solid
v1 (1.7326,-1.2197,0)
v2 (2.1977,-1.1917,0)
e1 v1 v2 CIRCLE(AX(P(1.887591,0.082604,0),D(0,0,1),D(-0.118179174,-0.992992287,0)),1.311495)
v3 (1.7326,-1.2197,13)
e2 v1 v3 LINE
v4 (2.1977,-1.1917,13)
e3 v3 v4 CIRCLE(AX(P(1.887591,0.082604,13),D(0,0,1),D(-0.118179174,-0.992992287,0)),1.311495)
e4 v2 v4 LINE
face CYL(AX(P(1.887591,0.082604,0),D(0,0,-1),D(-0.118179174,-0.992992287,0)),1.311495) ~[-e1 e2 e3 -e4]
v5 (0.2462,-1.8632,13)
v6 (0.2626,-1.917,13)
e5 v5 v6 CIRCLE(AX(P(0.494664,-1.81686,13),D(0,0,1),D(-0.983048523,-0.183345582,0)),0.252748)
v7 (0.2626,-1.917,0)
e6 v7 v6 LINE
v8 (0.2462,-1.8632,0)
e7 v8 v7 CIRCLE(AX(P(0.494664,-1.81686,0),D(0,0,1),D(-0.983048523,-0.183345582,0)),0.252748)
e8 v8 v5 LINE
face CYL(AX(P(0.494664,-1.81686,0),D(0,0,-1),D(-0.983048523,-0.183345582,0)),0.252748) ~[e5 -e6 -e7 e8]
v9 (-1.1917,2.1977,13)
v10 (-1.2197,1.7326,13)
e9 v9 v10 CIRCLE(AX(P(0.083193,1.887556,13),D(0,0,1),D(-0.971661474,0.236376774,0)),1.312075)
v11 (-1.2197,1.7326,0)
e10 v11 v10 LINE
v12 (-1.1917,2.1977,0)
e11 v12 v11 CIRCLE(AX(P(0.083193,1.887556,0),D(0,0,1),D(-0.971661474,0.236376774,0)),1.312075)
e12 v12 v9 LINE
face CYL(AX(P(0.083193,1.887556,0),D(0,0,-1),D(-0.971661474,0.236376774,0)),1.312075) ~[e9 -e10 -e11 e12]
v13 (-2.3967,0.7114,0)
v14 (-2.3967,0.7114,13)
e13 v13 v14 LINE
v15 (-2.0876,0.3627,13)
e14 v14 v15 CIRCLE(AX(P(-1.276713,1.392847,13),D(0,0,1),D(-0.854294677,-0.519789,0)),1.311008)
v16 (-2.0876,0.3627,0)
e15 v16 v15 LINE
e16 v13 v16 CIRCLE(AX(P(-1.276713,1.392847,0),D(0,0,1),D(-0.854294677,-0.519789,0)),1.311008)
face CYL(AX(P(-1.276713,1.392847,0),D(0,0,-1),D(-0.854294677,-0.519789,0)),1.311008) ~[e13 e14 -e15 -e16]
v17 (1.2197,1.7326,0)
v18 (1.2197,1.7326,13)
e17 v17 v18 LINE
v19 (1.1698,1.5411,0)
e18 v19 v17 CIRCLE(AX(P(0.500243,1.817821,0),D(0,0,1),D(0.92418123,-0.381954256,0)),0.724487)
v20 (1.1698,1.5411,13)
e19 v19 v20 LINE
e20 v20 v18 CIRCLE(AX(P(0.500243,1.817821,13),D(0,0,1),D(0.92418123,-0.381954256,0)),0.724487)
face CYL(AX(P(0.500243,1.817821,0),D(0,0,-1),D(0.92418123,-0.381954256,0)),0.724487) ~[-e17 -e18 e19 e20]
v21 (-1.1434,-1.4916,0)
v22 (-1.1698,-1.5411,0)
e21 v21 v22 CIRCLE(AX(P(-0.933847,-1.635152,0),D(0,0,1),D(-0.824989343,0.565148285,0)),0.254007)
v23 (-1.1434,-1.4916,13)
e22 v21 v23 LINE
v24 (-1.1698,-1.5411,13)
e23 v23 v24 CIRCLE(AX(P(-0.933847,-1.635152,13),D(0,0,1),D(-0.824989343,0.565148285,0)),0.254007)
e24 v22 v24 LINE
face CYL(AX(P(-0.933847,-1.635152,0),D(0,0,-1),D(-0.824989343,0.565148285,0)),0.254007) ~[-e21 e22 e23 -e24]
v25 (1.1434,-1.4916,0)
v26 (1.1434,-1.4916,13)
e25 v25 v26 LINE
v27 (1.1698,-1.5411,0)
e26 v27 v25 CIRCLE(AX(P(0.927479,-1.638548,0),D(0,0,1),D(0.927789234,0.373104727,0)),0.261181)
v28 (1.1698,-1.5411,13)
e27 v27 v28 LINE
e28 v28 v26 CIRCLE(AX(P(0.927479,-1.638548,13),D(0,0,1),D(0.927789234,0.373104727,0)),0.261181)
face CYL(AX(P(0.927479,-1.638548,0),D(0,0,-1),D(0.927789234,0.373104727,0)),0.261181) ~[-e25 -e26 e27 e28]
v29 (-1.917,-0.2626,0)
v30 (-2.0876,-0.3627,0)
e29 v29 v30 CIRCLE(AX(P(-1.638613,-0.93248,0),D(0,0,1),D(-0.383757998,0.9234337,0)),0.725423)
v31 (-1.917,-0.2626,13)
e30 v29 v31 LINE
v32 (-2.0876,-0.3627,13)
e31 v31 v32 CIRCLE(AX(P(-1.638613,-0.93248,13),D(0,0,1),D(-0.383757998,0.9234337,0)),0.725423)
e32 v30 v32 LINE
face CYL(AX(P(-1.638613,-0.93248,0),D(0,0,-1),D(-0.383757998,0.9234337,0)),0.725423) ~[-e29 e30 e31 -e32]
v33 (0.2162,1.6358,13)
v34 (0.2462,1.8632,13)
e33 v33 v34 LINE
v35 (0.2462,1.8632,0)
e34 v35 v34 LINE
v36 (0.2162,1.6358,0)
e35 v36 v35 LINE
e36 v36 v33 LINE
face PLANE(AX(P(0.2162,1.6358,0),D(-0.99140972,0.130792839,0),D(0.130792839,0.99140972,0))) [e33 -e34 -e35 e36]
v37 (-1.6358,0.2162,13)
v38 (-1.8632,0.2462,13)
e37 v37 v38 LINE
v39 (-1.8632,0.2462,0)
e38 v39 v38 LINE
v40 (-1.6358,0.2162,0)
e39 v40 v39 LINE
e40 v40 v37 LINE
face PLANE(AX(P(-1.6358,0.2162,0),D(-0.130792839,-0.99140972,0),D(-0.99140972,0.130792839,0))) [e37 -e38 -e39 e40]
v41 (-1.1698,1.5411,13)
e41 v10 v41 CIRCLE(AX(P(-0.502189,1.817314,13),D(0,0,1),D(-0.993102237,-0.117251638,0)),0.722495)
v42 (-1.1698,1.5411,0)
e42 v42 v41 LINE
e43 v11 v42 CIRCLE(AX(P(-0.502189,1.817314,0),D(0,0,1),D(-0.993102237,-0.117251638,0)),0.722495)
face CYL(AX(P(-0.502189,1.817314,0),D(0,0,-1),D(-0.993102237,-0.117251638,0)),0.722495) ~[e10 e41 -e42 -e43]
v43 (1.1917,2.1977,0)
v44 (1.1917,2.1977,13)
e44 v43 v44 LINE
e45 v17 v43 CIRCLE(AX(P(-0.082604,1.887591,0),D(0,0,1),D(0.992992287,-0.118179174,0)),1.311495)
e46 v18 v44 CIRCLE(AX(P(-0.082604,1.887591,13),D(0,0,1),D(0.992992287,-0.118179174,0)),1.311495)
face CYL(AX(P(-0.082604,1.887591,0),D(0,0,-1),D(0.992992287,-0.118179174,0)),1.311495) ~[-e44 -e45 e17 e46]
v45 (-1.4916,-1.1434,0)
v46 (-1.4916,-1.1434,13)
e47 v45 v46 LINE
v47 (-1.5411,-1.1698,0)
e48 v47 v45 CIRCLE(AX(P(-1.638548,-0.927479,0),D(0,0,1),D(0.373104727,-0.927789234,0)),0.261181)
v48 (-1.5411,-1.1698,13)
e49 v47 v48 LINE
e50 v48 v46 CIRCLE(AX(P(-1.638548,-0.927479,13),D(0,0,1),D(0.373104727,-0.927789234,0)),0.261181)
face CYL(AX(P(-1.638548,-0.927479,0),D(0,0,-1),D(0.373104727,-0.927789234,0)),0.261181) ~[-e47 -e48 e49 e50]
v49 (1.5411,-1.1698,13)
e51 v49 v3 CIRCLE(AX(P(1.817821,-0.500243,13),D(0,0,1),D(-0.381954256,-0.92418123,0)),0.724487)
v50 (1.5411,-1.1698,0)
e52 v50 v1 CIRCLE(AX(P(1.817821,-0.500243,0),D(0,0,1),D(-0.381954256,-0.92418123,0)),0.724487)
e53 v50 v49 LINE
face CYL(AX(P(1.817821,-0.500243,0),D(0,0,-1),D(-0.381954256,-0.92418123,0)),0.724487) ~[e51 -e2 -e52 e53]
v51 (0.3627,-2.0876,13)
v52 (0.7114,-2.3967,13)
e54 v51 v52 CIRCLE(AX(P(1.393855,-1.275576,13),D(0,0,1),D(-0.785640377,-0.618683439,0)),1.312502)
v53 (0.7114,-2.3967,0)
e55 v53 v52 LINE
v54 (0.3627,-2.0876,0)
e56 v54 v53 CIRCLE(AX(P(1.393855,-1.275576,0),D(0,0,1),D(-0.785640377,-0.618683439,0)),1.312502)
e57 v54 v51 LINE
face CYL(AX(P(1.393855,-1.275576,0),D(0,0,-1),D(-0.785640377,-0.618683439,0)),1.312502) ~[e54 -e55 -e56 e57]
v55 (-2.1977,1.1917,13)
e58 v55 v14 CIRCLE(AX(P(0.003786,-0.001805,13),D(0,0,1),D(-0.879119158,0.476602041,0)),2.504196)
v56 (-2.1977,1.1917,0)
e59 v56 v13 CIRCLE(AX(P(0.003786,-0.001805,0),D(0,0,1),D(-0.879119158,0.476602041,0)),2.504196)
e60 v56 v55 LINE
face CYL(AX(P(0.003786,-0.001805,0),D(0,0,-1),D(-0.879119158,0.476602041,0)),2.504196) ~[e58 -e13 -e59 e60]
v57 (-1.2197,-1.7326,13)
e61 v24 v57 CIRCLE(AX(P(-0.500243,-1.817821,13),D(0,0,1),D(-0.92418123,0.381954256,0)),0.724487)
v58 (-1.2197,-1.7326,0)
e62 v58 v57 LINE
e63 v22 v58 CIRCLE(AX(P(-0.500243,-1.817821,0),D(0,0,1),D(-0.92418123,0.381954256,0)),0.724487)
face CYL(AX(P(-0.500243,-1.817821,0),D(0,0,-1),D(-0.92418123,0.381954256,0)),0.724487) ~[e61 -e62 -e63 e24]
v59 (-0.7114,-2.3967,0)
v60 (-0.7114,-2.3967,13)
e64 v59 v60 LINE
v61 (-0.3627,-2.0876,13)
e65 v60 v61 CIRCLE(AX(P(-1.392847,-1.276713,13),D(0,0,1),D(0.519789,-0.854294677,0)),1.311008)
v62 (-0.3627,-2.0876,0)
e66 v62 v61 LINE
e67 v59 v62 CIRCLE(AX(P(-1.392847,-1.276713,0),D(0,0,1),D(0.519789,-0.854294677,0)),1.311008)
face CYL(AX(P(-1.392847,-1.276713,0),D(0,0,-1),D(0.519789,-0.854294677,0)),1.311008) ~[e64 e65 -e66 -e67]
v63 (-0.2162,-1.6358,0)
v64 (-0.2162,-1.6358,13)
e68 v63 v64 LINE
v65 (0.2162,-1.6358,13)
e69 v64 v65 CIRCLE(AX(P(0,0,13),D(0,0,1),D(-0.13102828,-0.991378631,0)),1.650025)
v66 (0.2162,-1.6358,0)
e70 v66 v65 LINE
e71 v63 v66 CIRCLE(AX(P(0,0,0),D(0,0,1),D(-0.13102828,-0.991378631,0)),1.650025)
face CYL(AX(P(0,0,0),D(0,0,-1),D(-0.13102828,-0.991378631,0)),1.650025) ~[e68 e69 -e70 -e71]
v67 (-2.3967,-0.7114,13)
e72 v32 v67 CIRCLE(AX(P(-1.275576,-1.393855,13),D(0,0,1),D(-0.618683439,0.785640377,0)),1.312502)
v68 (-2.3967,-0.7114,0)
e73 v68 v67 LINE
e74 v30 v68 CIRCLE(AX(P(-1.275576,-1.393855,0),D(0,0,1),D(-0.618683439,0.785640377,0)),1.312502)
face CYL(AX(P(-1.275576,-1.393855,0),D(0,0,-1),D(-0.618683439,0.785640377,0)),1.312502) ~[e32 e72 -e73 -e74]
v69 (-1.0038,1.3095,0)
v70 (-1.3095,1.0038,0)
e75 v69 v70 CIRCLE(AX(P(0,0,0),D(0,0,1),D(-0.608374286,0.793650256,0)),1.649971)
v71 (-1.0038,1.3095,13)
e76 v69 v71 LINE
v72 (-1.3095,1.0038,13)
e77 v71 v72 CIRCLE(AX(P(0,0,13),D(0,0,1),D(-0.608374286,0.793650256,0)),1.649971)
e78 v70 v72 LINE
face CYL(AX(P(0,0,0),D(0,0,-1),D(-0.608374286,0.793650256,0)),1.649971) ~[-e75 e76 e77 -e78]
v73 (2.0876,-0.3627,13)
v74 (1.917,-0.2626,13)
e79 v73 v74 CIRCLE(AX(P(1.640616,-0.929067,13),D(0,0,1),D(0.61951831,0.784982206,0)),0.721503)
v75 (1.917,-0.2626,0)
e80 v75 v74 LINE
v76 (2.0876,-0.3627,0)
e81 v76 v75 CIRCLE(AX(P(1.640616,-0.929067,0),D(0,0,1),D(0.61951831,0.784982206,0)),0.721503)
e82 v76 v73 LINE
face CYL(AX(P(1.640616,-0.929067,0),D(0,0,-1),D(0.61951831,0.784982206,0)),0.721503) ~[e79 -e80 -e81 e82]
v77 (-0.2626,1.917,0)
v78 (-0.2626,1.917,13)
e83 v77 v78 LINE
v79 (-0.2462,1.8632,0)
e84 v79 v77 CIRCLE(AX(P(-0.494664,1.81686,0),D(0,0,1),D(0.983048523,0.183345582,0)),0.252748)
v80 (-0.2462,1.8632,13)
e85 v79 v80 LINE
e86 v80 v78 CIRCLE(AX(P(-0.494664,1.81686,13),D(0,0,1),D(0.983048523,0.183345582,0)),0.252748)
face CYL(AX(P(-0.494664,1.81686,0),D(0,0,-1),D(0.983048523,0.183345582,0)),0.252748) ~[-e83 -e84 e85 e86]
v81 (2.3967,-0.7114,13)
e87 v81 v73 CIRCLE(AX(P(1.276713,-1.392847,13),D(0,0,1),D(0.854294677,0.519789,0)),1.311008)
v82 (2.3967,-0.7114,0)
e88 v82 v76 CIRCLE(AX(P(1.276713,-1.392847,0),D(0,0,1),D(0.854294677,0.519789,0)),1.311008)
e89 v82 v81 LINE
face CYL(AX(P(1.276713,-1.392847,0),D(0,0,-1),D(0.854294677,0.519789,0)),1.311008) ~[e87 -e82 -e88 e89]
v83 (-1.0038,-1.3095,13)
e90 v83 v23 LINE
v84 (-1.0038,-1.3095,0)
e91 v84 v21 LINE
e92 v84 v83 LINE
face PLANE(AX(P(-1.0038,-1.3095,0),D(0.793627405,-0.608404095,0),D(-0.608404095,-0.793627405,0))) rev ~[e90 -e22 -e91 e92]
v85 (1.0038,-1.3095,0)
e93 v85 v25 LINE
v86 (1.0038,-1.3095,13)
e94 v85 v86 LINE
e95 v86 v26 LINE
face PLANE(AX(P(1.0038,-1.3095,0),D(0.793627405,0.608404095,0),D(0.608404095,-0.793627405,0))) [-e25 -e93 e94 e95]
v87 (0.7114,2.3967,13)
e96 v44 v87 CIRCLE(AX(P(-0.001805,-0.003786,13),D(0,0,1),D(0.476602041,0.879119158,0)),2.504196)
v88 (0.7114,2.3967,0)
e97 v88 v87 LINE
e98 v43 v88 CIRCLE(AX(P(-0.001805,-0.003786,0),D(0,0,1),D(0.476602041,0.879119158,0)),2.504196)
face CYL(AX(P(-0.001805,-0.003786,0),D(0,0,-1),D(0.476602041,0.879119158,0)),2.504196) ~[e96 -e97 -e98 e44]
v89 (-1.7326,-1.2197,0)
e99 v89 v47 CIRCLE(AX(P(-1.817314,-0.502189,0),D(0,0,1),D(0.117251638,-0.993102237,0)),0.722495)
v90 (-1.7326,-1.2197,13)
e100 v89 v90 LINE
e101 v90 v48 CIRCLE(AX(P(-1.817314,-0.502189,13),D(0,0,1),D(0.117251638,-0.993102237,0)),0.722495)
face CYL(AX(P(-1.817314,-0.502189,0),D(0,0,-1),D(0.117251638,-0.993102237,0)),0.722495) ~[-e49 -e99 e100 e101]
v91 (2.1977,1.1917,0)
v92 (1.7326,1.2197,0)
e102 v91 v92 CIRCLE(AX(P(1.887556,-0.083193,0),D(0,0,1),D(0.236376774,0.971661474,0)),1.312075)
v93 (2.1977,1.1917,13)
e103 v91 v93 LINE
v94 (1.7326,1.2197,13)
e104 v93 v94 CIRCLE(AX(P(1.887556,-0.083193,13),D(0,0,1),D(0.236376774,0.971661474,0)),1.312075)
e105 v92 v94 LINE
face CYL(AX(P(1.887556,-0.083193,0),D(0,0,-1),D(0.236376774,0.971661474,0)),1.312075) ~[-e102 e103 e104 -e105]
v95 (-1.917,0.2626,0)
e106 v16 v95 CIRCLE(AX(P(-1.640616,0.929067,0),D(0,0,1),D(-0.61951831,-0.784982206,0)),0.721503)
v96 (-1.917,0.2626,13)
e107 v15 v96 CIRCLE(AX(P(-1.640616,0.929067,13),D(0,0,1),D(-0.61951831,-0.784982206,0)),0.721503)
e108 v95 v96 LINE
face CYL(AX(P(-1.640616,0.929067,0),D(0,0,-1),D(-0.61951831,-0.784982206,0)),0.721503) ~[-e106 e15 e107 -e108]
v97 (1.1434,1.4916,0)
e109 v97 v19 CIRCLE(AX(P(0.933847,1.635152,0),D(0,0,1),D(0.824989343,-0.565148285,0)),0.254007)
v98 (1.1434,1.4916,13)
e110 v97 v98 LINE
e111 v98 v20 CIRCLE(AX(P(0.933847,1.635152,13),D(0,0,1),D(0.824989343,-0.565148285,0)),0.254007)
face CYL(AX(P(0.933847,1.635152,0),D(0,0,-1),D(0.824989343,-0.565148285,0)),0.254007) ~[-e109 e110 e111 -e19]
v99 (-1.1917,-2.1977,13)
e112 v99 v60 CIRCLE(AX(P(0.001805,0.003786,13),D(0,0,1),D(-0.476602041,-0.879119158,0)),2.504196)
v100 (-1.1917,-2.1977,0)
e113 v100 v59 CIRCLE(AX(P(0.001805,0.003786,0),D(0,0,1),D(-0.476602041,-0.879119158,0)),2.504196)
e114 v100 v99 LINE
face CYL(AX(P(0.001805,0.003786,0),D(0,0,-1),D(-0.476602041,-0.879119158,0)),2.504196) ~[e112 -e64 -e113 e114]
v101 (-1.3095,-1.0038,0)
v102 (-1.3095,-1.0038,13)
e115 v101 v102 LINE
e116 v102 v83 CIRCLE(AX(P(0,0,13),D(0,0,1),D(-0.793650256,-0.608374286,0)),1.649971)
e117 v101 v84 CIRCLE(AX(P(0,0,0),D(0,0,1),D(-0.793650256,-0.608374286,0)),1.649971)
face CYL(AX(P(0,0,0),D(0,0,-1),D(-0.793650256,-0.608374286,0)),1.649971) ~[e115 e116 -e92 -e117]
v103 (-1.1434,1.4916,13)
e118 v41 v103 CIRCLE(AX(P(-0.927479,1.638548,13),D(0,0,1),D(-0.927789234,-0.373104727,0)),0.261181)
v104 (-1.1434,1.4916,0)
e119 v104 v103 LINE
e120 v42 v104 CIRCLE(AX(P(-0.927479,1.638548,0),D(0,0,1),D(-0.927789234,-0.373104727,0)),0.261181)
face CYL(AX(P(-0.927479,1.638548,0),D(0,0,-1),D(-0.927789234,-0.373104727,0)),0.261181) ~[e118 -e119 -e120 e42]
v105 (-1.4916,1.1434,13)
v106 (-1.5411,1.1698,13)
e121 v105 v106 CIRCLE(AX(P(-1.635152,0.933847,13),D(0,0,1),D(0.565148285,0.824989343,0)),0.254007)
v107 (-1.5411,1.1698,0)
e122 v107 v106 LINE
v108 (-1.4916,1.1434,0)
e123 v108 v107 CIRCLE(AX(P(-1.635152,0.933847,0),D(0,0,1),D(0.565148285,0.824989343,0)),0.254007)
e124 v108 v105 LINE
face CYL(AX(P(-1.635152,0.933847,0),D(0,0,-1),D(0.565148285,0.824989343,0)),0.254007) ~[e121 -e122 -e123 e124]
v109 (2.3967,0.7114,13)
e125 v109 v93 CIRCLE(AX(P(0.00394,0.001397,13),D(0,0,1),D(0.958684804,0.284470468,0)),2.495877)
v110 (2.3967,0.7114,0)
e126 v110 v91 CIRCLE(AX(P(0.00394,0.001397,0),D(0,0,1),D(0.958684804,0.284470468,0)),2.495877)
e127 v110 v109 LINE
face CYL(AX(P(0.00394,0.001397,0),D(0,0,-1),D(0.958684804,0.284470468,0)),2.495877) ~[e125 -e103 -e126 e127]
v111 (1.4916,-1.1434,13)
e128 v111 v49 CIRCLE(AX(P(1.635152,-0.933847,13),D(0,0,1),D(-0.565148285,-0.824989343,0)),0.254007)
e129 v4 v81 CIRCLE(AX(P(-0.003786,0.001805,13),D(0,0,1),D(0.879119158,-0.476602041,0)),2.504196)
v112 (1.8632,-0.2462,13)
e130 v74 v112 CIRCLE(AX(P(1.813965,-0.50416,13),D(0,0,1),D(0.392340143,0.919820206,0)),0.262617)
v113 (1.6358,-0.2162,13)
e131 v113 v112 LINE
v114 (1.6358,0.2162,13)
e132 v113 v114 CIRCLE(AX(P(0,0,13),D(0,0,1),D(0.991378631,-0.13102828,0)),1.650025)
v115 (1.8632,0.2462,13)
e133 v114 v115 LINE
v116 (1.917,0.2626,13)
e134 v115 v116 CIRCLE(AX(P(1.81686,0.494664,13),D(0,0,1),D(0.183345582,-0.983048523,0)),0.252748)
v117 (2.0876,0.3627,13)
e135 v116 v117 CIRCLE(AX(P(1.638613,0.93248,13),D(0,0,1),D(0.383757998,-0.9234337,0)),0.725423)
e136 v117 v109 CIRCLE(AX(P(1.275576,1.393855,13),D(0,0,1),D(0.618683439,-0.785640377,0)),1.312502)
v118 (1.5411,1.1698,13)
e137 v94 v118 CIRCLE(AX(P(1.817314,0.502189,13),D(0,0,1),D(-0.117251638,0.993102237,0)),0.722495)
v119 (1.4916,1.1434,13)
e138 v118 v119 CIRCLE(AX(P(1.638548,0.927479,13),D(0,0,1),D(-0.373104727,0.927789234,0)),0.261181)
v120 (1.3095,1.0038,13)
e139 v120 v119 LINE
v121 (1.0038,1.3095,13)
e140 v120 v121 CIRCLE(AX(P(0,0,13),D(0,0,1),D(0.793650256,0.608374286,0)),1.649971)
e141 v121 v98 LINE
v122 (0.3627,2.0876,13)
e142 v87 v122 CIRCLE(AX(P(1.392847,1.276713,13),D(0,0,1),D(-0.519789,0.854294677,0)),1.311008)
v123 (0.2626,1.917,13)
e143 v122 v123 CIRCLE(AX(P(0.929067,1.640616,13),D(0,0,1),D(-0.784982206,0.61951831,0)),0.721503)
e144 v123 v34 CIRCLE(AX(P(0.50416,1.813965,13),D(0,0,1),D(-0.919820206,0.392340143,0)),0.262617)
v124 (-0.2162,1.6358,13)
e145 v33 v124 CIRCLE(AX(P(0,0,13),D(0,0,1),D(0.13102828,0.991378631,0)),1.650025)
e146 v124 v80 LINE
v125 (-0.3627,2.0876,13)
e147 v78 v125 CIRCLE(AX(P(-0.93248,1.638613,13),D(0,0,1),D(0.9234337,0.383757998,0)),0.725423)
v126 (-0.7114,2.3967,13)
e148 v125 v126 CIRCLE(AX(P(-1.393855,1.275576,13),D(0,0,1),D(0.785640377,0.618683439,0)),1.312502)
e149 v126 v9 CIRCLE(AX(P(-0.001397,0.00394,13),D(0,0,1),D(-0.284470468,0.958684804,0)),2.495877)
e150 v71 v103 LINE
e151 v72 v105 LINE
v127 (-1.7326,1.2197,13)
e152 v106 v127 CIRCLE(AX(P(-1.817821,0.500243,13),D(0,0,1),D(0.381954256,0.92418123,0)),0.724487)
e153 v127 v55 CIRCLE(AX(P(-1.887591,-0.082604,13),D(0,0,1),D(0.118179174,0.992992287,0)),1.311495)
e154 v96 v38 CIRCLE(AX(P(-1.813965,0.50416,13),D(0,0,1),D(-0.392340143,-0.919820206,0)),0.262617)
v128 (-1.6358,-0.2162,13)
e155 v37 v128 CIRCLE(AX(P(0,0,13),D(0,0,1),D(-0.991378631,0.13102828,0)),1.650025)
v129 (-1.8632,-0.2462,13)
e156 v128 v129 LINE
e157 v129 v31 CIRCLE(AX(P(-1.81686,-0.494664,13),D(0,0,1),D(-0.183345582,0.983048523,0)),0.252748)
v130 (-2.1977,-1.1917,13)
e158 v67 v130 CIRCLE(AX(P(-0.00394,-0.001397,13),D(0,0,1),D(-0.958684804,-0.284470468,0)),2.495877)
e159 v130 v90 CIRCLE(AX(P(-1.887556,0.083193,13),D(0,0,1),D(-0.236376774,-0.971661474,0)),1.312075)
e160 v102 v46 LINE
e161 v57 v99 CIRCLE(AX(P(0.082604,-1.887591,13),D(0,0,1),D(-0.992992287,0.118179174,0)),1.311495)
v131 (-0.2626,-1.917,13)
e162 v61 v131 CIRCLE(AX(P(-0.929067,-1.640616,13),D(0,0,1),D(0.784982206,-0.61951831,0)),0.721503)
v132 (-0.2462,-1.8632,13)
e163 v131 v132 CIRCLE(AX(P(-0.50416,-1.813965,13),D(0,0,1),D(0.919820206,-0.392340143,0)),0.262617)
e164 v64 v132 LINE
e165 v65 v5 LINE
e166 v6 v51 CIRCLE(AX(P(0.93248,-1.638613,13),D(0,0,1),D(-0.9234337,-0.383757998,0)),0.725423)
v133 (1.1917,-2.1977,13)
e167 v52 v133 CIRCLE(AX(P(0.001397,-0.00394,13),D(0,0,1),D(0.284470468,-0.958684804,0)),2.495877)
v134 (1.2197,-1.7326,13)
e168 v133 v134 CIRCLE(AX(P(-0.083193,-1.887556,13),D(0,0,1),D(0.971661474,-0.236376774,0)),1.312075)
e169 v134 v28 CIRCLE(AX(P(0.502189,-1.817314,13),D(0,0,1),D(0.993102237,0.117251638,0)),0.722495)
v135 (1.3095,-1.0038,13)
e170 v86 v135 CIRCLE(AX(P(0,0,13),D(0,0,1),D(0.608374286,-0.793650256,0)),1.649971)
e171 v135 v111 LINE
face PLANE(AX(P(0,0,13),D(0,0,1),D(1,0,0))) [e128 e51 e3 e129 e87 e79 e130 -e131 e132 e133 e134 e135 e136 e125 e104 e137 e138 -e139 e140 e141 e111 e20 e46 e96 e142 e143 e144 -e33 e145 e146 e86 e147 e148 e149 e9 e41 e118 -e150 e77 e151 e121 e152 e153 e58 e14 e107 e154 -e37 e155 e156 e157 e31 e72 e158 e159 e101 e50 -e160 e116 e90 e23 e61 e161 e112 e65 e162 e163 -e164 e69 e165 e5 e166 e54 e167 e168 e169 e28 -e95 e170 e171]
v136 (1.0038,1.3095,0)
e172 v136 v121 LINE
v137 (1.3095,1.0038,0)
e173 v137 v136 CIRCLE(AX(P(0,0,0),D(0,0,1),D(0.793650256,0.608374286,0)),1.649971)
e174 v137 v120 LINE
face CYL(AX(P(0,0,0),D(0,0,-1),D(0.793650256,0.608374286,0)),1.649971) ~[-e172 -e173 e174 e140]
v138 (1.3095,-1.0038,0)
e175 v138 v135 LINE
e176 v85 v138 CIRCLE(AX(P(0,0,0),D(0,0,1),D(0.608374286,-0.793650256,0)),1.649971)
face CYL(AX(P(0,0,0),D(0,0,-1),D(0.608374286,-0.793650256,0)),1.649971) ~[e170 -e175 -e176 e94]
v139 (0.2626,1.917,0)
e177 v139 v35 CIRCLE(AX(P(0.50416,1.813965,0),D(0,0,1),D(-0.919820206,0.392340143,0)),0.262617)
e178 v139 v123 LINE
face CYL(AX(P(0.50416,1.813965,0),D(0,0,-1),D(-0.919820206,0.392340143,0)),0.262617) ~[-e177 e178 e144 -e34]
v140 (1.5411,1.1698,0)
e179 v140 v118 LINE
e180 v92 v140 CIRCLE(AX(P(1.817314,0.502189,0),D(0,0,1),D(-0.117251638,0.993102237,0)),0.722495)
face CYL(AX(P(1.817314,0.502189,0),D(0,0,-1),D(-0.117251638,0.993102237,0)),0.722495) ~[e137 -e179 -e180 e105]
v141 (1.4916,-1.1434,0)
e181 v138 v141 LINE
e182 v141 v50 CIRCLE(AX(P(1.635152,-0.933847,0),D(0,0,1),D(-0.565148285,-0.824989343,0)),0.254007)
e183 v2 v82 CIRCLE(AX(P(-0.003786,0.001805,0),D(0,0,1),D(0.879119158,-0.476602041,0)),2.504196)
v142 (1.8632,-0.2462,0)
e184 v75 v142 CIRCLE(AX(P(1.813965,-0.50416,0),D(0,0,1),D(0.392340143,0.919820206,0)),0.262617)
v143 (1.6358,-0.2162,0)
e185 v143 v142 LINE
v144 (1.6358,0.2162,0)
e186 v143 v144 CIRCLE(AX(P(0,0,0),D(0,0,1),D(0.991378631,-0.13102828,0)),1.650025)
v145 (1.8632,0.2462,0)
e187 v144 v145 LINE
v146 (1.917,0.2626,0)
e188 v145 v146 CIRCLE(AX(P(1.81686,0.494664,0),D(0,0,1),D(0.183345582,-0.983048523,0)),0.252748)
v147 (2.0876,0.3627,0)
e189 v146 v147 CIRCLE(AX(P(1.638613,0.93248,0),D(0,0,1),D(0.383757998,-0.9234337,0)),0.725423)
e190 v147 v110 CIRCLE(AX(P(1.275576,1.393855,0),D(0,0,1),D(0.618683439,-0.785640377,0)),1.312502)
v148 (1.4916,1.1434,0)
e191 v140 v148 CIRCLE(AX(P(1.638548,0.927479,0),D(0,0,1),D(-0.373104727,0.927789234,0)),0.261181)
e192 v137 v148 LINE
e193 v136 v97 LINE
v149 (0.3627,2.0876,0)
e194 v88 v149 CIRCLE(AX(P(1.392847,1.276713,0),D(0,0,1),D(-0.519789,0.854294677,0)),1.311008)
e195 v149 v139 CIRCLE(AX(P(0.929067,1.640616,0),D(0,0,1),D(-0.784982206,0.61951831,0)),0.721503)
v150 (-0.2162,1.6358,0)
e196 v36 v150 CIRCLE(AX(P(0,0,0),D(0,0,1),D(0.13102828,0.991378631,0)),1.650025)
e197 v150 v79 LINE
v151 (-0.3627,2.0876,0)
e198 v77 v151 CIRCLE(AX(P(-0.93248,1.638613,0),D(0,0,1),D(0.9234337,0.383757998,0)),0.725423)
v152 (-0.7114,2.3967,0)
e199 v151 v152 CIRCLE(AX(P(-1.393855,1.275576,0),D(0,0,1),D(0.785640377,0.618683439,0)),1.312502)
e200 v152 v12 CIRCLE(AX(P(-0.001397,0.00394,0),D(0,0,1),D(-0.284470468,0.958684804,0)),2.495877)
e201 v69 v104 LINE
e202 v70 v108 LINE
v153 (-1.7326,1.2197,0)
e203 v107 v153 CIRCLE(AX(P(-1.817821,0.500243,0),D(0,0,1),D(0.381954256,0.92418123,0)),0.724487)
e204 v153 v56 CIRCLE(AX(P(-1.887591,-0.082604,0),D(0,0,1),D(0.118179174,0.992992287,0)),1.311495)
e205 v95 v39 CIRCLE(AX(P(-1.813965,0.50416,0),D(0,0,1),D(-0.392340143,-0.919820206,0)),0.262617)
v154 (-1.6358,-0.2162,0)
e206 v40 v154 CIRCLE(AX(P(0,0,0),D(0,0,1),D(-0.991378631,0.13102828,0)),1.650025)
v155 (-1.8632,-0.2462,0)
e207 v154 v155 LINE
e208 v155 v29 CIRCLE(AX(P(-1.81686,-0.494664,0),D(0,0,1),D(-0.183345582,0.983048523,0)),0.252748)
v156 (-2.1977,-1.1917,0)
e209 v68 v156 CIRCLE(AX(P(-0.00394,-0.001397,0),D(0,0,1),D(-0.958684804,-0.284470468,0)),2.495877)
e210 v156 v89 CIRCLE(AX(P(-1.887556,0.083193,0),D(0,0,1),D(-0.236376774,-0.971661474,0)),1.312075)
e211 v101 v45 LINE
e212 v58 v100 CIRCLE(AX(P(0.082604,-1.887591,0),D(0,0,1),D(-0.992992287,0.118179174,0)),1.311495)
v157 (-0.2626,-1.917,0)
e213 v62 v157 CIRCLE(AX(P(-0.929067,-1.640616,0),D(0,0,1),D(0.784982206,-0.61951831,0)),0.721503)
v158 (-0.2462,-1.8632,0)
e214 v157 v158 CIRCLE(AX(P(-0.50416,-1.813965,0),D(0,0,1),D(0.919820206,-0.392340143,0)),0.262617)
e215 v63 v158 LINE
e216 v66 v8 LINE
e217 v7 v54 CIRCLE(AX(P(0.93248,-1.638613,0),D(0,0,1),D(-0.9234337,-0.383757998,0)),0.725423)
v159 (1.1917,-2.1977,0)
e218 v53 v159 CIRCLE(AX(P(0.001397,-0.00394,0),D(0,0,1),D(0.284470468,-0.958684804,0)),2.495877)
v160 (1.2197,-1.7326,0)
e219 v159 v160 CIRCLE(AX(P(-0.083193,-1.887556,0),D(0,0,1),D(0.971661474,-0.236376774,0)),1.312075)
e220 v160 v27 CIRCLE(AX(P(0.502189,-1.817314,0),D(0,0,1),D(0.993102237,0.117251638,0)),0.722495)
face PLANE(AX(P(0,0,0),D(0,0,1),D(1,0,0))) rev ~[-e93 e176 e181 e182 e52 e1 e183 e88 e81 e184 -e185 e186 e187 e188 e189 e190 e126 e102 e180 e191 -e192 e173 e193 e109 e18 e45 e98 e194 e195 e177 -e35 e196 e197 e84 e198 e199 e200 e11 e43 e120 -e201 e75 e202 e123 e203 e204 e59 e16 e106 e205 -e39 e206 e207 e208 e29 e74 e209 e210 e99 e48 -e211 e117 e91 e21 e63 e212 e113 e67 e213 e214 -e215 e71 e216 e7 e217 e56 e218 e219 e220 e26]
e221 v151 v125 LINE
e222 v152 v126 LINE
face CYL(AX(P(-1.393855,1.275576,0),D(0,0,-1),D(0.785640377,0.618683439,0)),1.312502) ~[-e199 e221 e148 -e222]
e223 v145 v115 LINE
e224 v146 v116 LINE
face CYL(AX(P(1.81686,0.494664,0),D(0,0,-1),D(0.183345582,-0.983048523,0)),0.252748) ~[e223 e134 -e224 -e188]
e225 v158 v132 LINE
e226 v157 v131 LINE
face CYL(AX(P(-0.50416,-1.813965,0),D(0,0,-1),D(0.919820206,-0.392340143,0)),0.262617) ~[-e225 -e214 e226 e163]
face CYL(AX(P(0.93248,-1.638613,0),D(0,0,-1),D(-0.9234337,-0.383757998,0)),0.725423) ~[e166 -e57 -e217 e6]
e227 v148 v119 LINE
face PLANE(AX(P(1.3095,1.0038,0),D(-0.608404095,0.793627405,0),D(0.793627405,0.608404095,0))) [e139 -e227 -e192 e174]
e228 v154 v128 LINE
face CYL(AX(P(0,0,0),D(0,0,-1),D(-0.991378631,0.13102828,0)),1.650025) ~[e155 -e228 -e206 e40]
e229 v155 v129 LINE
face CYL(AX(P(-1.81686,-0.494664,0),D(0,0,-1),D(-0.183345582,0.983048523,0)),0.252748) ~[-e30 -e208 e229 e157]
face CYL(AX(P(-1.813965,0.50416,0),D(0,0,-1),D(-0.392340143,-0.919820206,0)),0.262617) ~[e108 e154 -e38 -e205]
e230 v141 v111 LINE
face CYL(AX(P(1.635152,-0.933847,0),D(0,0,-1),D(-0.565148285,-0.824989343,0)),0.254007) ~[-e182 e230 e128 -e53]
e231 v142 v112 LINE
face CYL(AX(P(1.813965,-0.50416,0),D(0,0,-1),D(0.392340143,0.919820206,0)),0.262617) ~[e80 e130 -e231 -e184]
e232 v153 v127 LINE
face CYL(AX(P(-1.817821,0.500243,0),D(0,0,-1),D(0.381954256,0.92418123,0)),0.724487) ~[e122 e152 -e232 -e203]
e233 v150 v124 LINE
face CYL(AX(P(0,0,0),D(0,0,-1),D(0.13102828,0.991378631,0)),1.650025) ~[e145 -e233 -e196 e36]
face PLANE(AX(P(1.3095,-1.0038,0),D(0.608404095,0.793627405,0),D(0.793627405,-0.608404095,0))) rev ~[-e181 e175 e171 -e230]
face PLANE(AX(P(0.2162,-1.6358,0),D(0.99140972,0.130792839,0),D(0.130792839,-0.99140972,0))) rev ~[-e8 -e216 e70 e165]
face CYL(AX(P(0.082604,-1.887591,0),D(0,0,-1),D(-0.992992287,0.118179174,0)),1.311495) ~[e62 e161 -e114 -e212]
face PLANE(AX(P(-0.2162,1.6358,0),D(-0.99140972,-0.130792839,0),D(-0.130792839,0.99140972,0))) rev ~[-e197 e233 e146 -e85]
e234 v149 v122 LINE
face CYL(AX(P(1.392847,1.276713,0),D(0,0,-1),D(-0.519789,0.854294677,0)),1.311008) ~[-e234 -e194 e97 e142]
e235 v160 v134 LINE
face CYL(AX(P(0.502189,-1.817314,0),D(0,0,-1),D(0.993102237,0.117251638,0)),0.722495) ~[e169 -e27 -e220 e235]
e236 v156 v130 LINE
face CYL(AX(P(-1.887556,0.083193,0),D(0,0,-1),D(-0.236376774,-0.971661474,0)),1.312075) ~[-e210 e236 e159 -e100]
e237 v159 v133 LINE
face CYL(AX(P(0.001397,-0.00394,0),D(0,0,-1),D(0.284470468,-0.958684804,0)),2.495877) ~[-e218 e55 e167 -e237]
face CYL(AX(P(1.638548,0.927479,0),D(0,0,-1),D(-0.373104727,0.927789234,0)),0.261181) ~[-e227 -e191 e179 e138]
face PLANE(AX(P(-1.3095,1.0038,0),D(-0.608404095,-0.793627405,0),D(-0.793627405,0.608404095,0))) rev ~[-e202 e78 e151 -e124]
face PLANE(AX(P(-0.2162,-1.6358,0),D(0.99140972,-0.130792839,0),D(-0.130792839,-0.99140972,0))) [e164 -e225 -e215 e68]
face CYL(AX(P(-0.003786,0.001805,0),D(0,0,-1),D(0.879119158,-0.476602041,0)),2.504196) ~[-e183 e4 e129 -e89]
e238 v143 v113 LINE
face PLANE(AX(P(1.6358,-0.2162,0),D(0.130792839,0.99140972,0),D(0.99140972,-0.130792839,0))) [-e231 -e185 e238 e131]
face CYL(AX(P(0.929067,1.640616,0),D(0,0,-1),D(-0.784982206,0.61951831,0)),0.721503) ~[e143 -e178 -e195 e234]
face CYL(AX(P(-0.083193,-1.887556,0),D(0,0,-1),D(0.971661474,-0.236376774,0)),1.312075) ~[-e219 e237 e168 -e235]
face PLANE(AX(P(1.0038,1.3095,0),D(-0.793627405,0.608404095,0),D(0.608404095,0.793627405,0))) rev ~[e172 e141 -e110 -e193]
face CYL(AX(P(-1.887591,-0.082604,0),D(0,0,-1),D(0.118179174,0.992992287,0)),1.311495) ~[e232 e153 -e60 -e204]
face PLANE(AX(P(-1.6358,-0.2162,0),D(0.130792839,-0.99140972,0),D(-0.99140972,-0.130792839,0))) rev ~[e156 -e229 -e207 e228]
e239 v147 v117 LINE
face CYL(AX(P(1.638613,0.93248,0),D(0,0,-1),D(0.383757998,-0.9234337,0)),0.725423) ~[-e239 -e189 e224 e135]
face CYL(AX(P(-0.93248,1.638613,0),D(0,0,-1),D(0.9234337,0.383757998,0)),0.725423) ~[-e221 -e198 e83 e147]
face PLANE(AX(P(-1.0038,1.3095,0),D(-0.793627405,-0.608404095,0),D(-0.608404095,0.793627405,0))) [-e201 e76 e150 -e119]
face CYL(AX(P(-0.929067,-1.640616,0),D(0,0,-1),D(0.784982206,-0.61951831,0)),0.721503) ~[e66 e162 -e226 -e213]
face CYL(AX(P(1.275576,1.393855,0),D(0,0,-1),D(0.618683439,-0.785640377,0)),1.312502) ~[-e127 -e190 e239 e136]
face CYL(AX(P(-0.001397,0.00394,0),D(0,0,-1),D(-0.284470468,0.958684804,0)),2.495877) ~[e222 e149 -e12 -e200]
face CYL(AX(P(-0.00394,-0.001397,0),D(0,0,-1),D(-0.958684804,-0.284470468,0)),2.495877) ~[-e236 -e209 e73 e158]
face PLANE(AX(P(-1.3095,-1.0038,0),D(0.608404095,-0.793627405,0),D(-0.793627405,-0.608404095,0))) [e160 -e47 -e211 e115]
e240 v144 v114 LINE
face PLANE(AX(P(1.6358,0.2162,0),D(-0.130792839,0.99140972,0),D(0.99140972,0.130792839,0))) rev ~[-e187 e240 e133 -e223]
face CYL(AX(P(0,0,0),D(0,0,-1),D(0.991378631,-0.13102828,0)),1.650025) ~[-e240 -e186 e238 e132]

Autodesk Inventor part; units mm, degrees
ref_plane "YZ Plane" through (0, 0, 0) normal (1, 0, 0) x (0, 1, 0)
ref_plane "XZ Plane" through (0, 0, 0) normal (0, 1, 0) x (-1, 0, 0)
ref_plane "XY Plane" through (0, 0, 0) normal (0, 0, 1) x (1, 0, 0)
sketch "Sketch2" plane through (0, 0, 0) normal (0, 0, 1) x (1, 0, 0)
  arc A0 (0.2626, 1.917) -> (0.2462, 1.8632) centre (0.4994, 1.8157) ccw
  arc A1 (0.3627, 2.0876) -> (0.2626, 1.917) centre (0.9307, 1.6395) ccw
  arc A2 (0.7114, 2.3967) -> (0.3627, 2.0876) centre (1.3933, 1.2761) ccw
  arc A3 (-1.1698, 1.5411) -> (-1.1434, 1.4916) centre (-0.9308, 1.637) ccw
  arc A4 (-1.2197, 1.7326) -> (-1.1698, 1.5411) centre (-0.5012, 1.8175) ccw
  arc A5 (-1.1917, 2.1977) -> (-1.2197, 1.7326) centre (0.0829, 1.8876) ccw
  arc A6 (-1.917, 0.2626) -> (-1.8632, 0.2462) centre (-1.8157, 0.4994) ccw
  arc A7 (-2.0876, 0.3627) -> (-1.917, 0.2626) centre (-1.6395, 0.9307) ccw
  arc A8 (-2.3967, 0.7114) -> (-2.0876, 0.3627) centre (-1.2761, 1.3933) ccw
  arc A9 (-1.5411, -1.1698) -> (-1.4916, -1.1434) centre (-1.637, -0.9308) ccw
  arc A10 (-1.7326, -1.2197) -> (-1.5411, -1.1698) centre (-1.8175, -0.5012) ccw
  arc A11 (-2.1977, -1.1917) -> (-1.7326, -1.2197) centre (-1.8876, 0.0829) ccw
  arc A12 (-0.2626, -1.917) -> (-0.2462, -1.8632) centre (-0.4994, -1.8157) ccw
  arc A13 (-0.3627, -2.0876) -> (-0.2626, -1.917) centre (-0.9307, -1.6395) ccw
  arc A14 (-0.7114, -2.3967) -> (-0.3627, -2.0876) centre (-1.3933, -1.2761) ccw
  arc A15 (1.1698, -1.5411) -> (1.1434, -1.4916) centre (0.9308, -1.637) ccw
  arc A16 (1.2197, -1.7326) -> (1.1698, -1.5411) centre (0.5012, -1.8175) ccw
  arc A17 (1.1917, -2.1977) -> (1.2197, -1.7326) centre (-0.0829, -1.8876) ccw
  arc A18 (1.917, -0.2626) -> (1.8632, -0.2462) centre (1.8157, -0.4994) ccw
  arc A19 (2.0876, -0.3627) -> (1.917, -0.2626) centre (1.6395, -0.9307) ccw
  arc A20 (2.3967, -0.7114) -> (2.0876, -0.3627) centre (1.2761, -1.3933) ccw
  arc A21 (1.5411, 1.1698) -> (1.4916, 1.1434) centre (1.637, 0.9308) ccw
  arc A22 (1.7326, 1.2197) -> (1.5411, 1.1698) centre (1.8175, 0.5012) ccw
  arc A23 (2.1977, 1.1917) -> (1.7326, 1.2197) centre (1.8876, -0.0829) ccw
  arc A24 (-0.2462, 1.8632) -> (-0.2626, 1.917) centre (-0.4994, 1.8157) ccw
  arc A25 (-0.2626, 1.917) -> (-0.3627, 2.0876) centre (-0.9307, 1.6395) ccw
  arc A26 (-0.3627, 2.0876) -> (-0.7114, 2.3967) centre (-1.3933, 1.2761) ccw
  arc A27 (-1.4916, 1.1434) -> (-1.5411, 1.1698) centre (-1.637, 0.9308) ccw
  arc A28 (-1.5411, 1.1698) -> (-1.7326, 1.2197) centre (-1.8175, 0.5012) ccw
  arc A29 (-1.7326, 1.2197) -> (-2.1977, 1.1917) centre (-1.8876, -0.0829) ccw
  arc A30 (-1.8632, -0.2462) -> (-1.917, -0.2626) centre (-1.8157, -0.4994) ccw
  arc A31 (-1.917, -0.2626) -> (-2.0876, -0.3627) centre (-1.6395, -0.9307) ccw
  arc A32 (-2.0876, -0.3627) -> (-2.3967, -0.7114) centre (-1.2761, -1.3933) ccw
  arc A33 (-1.1434, -1.4916) -> (-1.1698, -1.5411) centre (-0.9308, -1.637) ccw
  arc A34 (-1.1698, -1.5411) -> (-1.2197, -1.7326) centre (-0.5012, -1.8175) ccw
  arc A35 (-1.2197, -1.7326) -> (-1.1917, -2.1977) centre (0.0829, -1.8876) ccw
  arc A36 (0.2462, -1.8632) -> (0.2626, -1.917) centre (0.4994, -1.8157) ccw
  arc A37 (0.2626, -1.917) -> (0.3627, -2.0876) centre (0.9307, -1.6395) ccw
  arc A38 (0.3627, -2.0876) -> (0.7114, -2.3967) centre (1.3933, -1.2761) ccw
  arc A39 (1.4916, -1.1434) -> (1.5411, -1.1698) centre (1.637, -0.9308) ccw
  arc A40 (1.5411, -1.1698) -> (1.7326, -1.2197) centre (1.8175, -0.5012) ccw
  arc A41 (1.7326, -1.2197) -> (2.1977, -1.1917) centre (1.8876, 0.0829) ccw
  arc A42 (1.8632, 0.2462) -> (1.917, 0.2626) centre (1.8157, 0.4994) ccw
  arc A43 (1.917, 0.2626) -> (2.0876, 0.3627) centre (1.6395, 0.9307) ccw
  arc A44 (2.0876, 0.3627) -> (2.3967, 0.7114) centre (1.2761, 1.3933) ccw
  arc A45 (1.1434, 1.4916) -> (1.1698, 1.5411) centre (0.9308, 1.637) ccw
  arc A46 (1.1698, 1.5411) -> (1.2197, 1.7326) centre (0.5012, 1.8175) ccw
  arc A47 (1.2197, 1.7326) -> (1.1917, 2.1977) centre (-0.0829, 1.8876) ccw
  arc A48 (0.2162, 1.6358) -> (-0.2162, 1.6358) centre (0, 0) ccw
  arc A49 (-1.0038, 1.3095) -> (-1.3095, 1.0038) centre (0, 0) ccw
  arc A50 (-1.6358, 0.2162) -> (-1.6358, -0.2162) centre (0, 0) ccw
  arc A51 (-1.3095, -1.0038) -> (-1.0038, -1.3095) centre (0, 0) ccw
  arc A52 (-0.2162, -1.6358) -> (0.2162, -1.6358) centre (0, 0) ccw
  arc A53 (1.0038, -1.3095) -> (1.3095, -1.0038) centre (0, 0) ccw
  arc A54 (1.6358, -0.2162) -> (1.6358, 0.2162) centre (0, 0) ccw
  arc A55 (1.3095, 1.0038) -> (1.0038, 1.3095) centre (0, 0) ccw
  arc A56 (-0.7114, 2.3967) -> (-1.1917, 2.1977) centre (0, 0) ccw
  arc A57 (-2.1977, 1.1917) -> (-2.3967, 0.7114) centre (0, 0) ccw
  arc A58 (-2.3967, -0.7114) -> (-2.1977, -1.1917) centre (0, 0) ccw
  arc A59 (-1.1917, -2.1977) -> (-0.7114, -2.3967) centre (0, 0) ccw
  arc A60 (0.7114, -2.3967) -> (1.1917, -2.1977) centre (0, 0) ccw
  arc A61 (2.1977, -1.1917) -> (2.3967, -0.7114) centre (0, 0) ccw
  arc A62 (2.3967, 0.7114) -> (2.1977, 1.1917) centre (0, 0) ccw
  arc A63 (1.1917, 2.1977) -> (0.7114, 2.3967) centre (0, 0) ccw
  line L0 (0.2162, 1.6358) -> (0.2462, 1.8632)
  line L1 (-1.0038, 1.3095) -> (-1.1434, 1.4916)
  line L2 (-1.6358, 0.2162) -> (-1.8632, 0.2462)
  line L3 (-1.3095, -1.0038) -> (-1.4916, -1.1434)
  line L4 (-0.2162, -1.6358) -> (-0.2462, -1.8632)
  line L5 (1.0038, -1.3095) -> (1.1434, -1.4916)
  line L6 (1.6358, -0.2162) -> (1.8632, -0.2462)
  line L7 (1.3095, 1.0038) -> (1.4916, 1.1434)
  line L8 (-0.2162, 1.6358) -> (-0.2462, 1.8632)
  line L9 (-1.3095, 1.0038) -> (-1.4916, 1.1434)
  line L10 (-1.6358, -0.2162) -> (-1.8632, -0.2462)
  line L11 (-1.0038, -1.3095) -> (-1.1434, -1.4916)
  line L12 (0.2162, -1.6358) -> (0.2462, -1.8632)
  line L13 (1.3095, -1.0038) -> (1.4916, -1.1434)
  line L14 (1.6358, 0.2162) -> (1.8632, 0.2462)
  line L15 (1.0038, 1.3095) -> (1.1434, 1.4916)
  point P0 (1.3095, 1.0038)
  point P1 (1.0038, 1.3095)
  point P2 (1.1434, 1.4916)
  point P3 (1.1683, 1.5373)
  point P4 (1.2195, 1.7312)
  point P5 (1.1917, 2.1977)
  point P6 (0.7114, 2.3967)
  point P7 (0.3618, 2.0865)
  point P8 (0.261, 1.9131)
  point P9 (0.2462, 1.8632)
  point P10 (0.2162, 1.6358)
  point P11 (-0.2162, 1.6358)
  point P12 (-0.2462, 1.8632)
  point P13 (-0.261, 1.9131)
  point P14 (-0.3618, 2.0865)
  point P15 (-0.7114, 2.3967)
  point P16 (-1.1917, 2.1977)
  point P17 (-1.2195, 1.7312)
  point P18 (-1.1683, 1.5373)
  point P19 (-1.1434, 1.4916)
  point P20 (-1.0038, 1.3095)
  point P21 (-1.3095, 1.0038)
  point P22 (-1.4916, 1.1434)
  point P23 (-1.5373, 1.1683)
  point P24 (-1.7312, 1.2195)
  point P25 (-2.1977, 1.1917)
  point P26 (-2.3967, 0.7114)
  point P27 (-2.0865, 0.3618)
  point P28 (-1.9131, 0.261)
  point P29 (-1.8632, 0.2462)
  point P30 (-1.6358, 0.2162)
  point P31 (-1.6358, -0.2162)
  point P32 (-1.8632, -0.2462)
  point P33 (-1.9131, -0.261)
  point P34 (-2.0865, -0.3618)
  point P35 (-2.3967, -0.7114)
  point P36 (-2.1977, -1.1917)
  point P37 (-1.7312, -1.2195)
  point P38 (-1.5373, -1.1683)
  point P39 (-1.4916, -1.1434)
  point P40 (-1.3095, -1.0038)
  point P41 (-1.0038, -1.3095)
  point P42 (-1.1434, -1.4916)
  point P43 (-1.1683, -1.5373)
  point P44 (-1.2195, -1.7312)
  point P45 (-1.1917, -2.1977)
  point P46 (-0.7114, -2.3967)
  point P47 (-0.3618, -2.0865)
  point P48 (-0.261, -1.9131)
  point P49 (-0.2462, -1.8632)
  point P50 (-0.2162, -1.6358)
  point P51 (0.2162, -1.6358)
  point P52 (0.2462, -1.8632)
  point P53 (0.261, -1.9131)
  point P54 (0.3618, -2.0865)
  point P55 (0.7114, -2.3967)
  point P56 (1.1917, -2.1977)
  point P57 (1.2195, -1.7312)
  point P58 (1.1683, -1.5373)
  point P59 (1.1434, -1.4916)
  point P60 (1.0038, -1.3095)
  point P61 (1.3095, -1.0038)
  point P62 (1.4916, -1.1434)
  point P63 (1.5373, -1.1683)
  point P64 (1.7312, -1.2195)
  point P65 (2.1977, -1.1917)
  point P66 (2.3967, -0.7114)
  point P67 (2.0865, -0.3618)
  point P68 (1.9131, -0.261)
  point P69 (1.8632, -0.2462)
  point P70 (1.6358, -0.2162)
  point P71 (1.6358, 0.2162)
  point P72 (1.8632, 0.2462)
  point P73 (1.9131, 0.261)
  point P74 (2.0865, 0.3618)
  point P75 (2.3967, 0.7114)
  point P76 (2.1977, 1.1917)
  point P77 (1.7312, 1.2195)
  point P78 (1.5373, 1.1683)
  point P79 (1.4916, 1.1434)
extrude "Extrusion2" add sketch "Sketch2" along normal blind 13
properties part number "ぴにょん"
